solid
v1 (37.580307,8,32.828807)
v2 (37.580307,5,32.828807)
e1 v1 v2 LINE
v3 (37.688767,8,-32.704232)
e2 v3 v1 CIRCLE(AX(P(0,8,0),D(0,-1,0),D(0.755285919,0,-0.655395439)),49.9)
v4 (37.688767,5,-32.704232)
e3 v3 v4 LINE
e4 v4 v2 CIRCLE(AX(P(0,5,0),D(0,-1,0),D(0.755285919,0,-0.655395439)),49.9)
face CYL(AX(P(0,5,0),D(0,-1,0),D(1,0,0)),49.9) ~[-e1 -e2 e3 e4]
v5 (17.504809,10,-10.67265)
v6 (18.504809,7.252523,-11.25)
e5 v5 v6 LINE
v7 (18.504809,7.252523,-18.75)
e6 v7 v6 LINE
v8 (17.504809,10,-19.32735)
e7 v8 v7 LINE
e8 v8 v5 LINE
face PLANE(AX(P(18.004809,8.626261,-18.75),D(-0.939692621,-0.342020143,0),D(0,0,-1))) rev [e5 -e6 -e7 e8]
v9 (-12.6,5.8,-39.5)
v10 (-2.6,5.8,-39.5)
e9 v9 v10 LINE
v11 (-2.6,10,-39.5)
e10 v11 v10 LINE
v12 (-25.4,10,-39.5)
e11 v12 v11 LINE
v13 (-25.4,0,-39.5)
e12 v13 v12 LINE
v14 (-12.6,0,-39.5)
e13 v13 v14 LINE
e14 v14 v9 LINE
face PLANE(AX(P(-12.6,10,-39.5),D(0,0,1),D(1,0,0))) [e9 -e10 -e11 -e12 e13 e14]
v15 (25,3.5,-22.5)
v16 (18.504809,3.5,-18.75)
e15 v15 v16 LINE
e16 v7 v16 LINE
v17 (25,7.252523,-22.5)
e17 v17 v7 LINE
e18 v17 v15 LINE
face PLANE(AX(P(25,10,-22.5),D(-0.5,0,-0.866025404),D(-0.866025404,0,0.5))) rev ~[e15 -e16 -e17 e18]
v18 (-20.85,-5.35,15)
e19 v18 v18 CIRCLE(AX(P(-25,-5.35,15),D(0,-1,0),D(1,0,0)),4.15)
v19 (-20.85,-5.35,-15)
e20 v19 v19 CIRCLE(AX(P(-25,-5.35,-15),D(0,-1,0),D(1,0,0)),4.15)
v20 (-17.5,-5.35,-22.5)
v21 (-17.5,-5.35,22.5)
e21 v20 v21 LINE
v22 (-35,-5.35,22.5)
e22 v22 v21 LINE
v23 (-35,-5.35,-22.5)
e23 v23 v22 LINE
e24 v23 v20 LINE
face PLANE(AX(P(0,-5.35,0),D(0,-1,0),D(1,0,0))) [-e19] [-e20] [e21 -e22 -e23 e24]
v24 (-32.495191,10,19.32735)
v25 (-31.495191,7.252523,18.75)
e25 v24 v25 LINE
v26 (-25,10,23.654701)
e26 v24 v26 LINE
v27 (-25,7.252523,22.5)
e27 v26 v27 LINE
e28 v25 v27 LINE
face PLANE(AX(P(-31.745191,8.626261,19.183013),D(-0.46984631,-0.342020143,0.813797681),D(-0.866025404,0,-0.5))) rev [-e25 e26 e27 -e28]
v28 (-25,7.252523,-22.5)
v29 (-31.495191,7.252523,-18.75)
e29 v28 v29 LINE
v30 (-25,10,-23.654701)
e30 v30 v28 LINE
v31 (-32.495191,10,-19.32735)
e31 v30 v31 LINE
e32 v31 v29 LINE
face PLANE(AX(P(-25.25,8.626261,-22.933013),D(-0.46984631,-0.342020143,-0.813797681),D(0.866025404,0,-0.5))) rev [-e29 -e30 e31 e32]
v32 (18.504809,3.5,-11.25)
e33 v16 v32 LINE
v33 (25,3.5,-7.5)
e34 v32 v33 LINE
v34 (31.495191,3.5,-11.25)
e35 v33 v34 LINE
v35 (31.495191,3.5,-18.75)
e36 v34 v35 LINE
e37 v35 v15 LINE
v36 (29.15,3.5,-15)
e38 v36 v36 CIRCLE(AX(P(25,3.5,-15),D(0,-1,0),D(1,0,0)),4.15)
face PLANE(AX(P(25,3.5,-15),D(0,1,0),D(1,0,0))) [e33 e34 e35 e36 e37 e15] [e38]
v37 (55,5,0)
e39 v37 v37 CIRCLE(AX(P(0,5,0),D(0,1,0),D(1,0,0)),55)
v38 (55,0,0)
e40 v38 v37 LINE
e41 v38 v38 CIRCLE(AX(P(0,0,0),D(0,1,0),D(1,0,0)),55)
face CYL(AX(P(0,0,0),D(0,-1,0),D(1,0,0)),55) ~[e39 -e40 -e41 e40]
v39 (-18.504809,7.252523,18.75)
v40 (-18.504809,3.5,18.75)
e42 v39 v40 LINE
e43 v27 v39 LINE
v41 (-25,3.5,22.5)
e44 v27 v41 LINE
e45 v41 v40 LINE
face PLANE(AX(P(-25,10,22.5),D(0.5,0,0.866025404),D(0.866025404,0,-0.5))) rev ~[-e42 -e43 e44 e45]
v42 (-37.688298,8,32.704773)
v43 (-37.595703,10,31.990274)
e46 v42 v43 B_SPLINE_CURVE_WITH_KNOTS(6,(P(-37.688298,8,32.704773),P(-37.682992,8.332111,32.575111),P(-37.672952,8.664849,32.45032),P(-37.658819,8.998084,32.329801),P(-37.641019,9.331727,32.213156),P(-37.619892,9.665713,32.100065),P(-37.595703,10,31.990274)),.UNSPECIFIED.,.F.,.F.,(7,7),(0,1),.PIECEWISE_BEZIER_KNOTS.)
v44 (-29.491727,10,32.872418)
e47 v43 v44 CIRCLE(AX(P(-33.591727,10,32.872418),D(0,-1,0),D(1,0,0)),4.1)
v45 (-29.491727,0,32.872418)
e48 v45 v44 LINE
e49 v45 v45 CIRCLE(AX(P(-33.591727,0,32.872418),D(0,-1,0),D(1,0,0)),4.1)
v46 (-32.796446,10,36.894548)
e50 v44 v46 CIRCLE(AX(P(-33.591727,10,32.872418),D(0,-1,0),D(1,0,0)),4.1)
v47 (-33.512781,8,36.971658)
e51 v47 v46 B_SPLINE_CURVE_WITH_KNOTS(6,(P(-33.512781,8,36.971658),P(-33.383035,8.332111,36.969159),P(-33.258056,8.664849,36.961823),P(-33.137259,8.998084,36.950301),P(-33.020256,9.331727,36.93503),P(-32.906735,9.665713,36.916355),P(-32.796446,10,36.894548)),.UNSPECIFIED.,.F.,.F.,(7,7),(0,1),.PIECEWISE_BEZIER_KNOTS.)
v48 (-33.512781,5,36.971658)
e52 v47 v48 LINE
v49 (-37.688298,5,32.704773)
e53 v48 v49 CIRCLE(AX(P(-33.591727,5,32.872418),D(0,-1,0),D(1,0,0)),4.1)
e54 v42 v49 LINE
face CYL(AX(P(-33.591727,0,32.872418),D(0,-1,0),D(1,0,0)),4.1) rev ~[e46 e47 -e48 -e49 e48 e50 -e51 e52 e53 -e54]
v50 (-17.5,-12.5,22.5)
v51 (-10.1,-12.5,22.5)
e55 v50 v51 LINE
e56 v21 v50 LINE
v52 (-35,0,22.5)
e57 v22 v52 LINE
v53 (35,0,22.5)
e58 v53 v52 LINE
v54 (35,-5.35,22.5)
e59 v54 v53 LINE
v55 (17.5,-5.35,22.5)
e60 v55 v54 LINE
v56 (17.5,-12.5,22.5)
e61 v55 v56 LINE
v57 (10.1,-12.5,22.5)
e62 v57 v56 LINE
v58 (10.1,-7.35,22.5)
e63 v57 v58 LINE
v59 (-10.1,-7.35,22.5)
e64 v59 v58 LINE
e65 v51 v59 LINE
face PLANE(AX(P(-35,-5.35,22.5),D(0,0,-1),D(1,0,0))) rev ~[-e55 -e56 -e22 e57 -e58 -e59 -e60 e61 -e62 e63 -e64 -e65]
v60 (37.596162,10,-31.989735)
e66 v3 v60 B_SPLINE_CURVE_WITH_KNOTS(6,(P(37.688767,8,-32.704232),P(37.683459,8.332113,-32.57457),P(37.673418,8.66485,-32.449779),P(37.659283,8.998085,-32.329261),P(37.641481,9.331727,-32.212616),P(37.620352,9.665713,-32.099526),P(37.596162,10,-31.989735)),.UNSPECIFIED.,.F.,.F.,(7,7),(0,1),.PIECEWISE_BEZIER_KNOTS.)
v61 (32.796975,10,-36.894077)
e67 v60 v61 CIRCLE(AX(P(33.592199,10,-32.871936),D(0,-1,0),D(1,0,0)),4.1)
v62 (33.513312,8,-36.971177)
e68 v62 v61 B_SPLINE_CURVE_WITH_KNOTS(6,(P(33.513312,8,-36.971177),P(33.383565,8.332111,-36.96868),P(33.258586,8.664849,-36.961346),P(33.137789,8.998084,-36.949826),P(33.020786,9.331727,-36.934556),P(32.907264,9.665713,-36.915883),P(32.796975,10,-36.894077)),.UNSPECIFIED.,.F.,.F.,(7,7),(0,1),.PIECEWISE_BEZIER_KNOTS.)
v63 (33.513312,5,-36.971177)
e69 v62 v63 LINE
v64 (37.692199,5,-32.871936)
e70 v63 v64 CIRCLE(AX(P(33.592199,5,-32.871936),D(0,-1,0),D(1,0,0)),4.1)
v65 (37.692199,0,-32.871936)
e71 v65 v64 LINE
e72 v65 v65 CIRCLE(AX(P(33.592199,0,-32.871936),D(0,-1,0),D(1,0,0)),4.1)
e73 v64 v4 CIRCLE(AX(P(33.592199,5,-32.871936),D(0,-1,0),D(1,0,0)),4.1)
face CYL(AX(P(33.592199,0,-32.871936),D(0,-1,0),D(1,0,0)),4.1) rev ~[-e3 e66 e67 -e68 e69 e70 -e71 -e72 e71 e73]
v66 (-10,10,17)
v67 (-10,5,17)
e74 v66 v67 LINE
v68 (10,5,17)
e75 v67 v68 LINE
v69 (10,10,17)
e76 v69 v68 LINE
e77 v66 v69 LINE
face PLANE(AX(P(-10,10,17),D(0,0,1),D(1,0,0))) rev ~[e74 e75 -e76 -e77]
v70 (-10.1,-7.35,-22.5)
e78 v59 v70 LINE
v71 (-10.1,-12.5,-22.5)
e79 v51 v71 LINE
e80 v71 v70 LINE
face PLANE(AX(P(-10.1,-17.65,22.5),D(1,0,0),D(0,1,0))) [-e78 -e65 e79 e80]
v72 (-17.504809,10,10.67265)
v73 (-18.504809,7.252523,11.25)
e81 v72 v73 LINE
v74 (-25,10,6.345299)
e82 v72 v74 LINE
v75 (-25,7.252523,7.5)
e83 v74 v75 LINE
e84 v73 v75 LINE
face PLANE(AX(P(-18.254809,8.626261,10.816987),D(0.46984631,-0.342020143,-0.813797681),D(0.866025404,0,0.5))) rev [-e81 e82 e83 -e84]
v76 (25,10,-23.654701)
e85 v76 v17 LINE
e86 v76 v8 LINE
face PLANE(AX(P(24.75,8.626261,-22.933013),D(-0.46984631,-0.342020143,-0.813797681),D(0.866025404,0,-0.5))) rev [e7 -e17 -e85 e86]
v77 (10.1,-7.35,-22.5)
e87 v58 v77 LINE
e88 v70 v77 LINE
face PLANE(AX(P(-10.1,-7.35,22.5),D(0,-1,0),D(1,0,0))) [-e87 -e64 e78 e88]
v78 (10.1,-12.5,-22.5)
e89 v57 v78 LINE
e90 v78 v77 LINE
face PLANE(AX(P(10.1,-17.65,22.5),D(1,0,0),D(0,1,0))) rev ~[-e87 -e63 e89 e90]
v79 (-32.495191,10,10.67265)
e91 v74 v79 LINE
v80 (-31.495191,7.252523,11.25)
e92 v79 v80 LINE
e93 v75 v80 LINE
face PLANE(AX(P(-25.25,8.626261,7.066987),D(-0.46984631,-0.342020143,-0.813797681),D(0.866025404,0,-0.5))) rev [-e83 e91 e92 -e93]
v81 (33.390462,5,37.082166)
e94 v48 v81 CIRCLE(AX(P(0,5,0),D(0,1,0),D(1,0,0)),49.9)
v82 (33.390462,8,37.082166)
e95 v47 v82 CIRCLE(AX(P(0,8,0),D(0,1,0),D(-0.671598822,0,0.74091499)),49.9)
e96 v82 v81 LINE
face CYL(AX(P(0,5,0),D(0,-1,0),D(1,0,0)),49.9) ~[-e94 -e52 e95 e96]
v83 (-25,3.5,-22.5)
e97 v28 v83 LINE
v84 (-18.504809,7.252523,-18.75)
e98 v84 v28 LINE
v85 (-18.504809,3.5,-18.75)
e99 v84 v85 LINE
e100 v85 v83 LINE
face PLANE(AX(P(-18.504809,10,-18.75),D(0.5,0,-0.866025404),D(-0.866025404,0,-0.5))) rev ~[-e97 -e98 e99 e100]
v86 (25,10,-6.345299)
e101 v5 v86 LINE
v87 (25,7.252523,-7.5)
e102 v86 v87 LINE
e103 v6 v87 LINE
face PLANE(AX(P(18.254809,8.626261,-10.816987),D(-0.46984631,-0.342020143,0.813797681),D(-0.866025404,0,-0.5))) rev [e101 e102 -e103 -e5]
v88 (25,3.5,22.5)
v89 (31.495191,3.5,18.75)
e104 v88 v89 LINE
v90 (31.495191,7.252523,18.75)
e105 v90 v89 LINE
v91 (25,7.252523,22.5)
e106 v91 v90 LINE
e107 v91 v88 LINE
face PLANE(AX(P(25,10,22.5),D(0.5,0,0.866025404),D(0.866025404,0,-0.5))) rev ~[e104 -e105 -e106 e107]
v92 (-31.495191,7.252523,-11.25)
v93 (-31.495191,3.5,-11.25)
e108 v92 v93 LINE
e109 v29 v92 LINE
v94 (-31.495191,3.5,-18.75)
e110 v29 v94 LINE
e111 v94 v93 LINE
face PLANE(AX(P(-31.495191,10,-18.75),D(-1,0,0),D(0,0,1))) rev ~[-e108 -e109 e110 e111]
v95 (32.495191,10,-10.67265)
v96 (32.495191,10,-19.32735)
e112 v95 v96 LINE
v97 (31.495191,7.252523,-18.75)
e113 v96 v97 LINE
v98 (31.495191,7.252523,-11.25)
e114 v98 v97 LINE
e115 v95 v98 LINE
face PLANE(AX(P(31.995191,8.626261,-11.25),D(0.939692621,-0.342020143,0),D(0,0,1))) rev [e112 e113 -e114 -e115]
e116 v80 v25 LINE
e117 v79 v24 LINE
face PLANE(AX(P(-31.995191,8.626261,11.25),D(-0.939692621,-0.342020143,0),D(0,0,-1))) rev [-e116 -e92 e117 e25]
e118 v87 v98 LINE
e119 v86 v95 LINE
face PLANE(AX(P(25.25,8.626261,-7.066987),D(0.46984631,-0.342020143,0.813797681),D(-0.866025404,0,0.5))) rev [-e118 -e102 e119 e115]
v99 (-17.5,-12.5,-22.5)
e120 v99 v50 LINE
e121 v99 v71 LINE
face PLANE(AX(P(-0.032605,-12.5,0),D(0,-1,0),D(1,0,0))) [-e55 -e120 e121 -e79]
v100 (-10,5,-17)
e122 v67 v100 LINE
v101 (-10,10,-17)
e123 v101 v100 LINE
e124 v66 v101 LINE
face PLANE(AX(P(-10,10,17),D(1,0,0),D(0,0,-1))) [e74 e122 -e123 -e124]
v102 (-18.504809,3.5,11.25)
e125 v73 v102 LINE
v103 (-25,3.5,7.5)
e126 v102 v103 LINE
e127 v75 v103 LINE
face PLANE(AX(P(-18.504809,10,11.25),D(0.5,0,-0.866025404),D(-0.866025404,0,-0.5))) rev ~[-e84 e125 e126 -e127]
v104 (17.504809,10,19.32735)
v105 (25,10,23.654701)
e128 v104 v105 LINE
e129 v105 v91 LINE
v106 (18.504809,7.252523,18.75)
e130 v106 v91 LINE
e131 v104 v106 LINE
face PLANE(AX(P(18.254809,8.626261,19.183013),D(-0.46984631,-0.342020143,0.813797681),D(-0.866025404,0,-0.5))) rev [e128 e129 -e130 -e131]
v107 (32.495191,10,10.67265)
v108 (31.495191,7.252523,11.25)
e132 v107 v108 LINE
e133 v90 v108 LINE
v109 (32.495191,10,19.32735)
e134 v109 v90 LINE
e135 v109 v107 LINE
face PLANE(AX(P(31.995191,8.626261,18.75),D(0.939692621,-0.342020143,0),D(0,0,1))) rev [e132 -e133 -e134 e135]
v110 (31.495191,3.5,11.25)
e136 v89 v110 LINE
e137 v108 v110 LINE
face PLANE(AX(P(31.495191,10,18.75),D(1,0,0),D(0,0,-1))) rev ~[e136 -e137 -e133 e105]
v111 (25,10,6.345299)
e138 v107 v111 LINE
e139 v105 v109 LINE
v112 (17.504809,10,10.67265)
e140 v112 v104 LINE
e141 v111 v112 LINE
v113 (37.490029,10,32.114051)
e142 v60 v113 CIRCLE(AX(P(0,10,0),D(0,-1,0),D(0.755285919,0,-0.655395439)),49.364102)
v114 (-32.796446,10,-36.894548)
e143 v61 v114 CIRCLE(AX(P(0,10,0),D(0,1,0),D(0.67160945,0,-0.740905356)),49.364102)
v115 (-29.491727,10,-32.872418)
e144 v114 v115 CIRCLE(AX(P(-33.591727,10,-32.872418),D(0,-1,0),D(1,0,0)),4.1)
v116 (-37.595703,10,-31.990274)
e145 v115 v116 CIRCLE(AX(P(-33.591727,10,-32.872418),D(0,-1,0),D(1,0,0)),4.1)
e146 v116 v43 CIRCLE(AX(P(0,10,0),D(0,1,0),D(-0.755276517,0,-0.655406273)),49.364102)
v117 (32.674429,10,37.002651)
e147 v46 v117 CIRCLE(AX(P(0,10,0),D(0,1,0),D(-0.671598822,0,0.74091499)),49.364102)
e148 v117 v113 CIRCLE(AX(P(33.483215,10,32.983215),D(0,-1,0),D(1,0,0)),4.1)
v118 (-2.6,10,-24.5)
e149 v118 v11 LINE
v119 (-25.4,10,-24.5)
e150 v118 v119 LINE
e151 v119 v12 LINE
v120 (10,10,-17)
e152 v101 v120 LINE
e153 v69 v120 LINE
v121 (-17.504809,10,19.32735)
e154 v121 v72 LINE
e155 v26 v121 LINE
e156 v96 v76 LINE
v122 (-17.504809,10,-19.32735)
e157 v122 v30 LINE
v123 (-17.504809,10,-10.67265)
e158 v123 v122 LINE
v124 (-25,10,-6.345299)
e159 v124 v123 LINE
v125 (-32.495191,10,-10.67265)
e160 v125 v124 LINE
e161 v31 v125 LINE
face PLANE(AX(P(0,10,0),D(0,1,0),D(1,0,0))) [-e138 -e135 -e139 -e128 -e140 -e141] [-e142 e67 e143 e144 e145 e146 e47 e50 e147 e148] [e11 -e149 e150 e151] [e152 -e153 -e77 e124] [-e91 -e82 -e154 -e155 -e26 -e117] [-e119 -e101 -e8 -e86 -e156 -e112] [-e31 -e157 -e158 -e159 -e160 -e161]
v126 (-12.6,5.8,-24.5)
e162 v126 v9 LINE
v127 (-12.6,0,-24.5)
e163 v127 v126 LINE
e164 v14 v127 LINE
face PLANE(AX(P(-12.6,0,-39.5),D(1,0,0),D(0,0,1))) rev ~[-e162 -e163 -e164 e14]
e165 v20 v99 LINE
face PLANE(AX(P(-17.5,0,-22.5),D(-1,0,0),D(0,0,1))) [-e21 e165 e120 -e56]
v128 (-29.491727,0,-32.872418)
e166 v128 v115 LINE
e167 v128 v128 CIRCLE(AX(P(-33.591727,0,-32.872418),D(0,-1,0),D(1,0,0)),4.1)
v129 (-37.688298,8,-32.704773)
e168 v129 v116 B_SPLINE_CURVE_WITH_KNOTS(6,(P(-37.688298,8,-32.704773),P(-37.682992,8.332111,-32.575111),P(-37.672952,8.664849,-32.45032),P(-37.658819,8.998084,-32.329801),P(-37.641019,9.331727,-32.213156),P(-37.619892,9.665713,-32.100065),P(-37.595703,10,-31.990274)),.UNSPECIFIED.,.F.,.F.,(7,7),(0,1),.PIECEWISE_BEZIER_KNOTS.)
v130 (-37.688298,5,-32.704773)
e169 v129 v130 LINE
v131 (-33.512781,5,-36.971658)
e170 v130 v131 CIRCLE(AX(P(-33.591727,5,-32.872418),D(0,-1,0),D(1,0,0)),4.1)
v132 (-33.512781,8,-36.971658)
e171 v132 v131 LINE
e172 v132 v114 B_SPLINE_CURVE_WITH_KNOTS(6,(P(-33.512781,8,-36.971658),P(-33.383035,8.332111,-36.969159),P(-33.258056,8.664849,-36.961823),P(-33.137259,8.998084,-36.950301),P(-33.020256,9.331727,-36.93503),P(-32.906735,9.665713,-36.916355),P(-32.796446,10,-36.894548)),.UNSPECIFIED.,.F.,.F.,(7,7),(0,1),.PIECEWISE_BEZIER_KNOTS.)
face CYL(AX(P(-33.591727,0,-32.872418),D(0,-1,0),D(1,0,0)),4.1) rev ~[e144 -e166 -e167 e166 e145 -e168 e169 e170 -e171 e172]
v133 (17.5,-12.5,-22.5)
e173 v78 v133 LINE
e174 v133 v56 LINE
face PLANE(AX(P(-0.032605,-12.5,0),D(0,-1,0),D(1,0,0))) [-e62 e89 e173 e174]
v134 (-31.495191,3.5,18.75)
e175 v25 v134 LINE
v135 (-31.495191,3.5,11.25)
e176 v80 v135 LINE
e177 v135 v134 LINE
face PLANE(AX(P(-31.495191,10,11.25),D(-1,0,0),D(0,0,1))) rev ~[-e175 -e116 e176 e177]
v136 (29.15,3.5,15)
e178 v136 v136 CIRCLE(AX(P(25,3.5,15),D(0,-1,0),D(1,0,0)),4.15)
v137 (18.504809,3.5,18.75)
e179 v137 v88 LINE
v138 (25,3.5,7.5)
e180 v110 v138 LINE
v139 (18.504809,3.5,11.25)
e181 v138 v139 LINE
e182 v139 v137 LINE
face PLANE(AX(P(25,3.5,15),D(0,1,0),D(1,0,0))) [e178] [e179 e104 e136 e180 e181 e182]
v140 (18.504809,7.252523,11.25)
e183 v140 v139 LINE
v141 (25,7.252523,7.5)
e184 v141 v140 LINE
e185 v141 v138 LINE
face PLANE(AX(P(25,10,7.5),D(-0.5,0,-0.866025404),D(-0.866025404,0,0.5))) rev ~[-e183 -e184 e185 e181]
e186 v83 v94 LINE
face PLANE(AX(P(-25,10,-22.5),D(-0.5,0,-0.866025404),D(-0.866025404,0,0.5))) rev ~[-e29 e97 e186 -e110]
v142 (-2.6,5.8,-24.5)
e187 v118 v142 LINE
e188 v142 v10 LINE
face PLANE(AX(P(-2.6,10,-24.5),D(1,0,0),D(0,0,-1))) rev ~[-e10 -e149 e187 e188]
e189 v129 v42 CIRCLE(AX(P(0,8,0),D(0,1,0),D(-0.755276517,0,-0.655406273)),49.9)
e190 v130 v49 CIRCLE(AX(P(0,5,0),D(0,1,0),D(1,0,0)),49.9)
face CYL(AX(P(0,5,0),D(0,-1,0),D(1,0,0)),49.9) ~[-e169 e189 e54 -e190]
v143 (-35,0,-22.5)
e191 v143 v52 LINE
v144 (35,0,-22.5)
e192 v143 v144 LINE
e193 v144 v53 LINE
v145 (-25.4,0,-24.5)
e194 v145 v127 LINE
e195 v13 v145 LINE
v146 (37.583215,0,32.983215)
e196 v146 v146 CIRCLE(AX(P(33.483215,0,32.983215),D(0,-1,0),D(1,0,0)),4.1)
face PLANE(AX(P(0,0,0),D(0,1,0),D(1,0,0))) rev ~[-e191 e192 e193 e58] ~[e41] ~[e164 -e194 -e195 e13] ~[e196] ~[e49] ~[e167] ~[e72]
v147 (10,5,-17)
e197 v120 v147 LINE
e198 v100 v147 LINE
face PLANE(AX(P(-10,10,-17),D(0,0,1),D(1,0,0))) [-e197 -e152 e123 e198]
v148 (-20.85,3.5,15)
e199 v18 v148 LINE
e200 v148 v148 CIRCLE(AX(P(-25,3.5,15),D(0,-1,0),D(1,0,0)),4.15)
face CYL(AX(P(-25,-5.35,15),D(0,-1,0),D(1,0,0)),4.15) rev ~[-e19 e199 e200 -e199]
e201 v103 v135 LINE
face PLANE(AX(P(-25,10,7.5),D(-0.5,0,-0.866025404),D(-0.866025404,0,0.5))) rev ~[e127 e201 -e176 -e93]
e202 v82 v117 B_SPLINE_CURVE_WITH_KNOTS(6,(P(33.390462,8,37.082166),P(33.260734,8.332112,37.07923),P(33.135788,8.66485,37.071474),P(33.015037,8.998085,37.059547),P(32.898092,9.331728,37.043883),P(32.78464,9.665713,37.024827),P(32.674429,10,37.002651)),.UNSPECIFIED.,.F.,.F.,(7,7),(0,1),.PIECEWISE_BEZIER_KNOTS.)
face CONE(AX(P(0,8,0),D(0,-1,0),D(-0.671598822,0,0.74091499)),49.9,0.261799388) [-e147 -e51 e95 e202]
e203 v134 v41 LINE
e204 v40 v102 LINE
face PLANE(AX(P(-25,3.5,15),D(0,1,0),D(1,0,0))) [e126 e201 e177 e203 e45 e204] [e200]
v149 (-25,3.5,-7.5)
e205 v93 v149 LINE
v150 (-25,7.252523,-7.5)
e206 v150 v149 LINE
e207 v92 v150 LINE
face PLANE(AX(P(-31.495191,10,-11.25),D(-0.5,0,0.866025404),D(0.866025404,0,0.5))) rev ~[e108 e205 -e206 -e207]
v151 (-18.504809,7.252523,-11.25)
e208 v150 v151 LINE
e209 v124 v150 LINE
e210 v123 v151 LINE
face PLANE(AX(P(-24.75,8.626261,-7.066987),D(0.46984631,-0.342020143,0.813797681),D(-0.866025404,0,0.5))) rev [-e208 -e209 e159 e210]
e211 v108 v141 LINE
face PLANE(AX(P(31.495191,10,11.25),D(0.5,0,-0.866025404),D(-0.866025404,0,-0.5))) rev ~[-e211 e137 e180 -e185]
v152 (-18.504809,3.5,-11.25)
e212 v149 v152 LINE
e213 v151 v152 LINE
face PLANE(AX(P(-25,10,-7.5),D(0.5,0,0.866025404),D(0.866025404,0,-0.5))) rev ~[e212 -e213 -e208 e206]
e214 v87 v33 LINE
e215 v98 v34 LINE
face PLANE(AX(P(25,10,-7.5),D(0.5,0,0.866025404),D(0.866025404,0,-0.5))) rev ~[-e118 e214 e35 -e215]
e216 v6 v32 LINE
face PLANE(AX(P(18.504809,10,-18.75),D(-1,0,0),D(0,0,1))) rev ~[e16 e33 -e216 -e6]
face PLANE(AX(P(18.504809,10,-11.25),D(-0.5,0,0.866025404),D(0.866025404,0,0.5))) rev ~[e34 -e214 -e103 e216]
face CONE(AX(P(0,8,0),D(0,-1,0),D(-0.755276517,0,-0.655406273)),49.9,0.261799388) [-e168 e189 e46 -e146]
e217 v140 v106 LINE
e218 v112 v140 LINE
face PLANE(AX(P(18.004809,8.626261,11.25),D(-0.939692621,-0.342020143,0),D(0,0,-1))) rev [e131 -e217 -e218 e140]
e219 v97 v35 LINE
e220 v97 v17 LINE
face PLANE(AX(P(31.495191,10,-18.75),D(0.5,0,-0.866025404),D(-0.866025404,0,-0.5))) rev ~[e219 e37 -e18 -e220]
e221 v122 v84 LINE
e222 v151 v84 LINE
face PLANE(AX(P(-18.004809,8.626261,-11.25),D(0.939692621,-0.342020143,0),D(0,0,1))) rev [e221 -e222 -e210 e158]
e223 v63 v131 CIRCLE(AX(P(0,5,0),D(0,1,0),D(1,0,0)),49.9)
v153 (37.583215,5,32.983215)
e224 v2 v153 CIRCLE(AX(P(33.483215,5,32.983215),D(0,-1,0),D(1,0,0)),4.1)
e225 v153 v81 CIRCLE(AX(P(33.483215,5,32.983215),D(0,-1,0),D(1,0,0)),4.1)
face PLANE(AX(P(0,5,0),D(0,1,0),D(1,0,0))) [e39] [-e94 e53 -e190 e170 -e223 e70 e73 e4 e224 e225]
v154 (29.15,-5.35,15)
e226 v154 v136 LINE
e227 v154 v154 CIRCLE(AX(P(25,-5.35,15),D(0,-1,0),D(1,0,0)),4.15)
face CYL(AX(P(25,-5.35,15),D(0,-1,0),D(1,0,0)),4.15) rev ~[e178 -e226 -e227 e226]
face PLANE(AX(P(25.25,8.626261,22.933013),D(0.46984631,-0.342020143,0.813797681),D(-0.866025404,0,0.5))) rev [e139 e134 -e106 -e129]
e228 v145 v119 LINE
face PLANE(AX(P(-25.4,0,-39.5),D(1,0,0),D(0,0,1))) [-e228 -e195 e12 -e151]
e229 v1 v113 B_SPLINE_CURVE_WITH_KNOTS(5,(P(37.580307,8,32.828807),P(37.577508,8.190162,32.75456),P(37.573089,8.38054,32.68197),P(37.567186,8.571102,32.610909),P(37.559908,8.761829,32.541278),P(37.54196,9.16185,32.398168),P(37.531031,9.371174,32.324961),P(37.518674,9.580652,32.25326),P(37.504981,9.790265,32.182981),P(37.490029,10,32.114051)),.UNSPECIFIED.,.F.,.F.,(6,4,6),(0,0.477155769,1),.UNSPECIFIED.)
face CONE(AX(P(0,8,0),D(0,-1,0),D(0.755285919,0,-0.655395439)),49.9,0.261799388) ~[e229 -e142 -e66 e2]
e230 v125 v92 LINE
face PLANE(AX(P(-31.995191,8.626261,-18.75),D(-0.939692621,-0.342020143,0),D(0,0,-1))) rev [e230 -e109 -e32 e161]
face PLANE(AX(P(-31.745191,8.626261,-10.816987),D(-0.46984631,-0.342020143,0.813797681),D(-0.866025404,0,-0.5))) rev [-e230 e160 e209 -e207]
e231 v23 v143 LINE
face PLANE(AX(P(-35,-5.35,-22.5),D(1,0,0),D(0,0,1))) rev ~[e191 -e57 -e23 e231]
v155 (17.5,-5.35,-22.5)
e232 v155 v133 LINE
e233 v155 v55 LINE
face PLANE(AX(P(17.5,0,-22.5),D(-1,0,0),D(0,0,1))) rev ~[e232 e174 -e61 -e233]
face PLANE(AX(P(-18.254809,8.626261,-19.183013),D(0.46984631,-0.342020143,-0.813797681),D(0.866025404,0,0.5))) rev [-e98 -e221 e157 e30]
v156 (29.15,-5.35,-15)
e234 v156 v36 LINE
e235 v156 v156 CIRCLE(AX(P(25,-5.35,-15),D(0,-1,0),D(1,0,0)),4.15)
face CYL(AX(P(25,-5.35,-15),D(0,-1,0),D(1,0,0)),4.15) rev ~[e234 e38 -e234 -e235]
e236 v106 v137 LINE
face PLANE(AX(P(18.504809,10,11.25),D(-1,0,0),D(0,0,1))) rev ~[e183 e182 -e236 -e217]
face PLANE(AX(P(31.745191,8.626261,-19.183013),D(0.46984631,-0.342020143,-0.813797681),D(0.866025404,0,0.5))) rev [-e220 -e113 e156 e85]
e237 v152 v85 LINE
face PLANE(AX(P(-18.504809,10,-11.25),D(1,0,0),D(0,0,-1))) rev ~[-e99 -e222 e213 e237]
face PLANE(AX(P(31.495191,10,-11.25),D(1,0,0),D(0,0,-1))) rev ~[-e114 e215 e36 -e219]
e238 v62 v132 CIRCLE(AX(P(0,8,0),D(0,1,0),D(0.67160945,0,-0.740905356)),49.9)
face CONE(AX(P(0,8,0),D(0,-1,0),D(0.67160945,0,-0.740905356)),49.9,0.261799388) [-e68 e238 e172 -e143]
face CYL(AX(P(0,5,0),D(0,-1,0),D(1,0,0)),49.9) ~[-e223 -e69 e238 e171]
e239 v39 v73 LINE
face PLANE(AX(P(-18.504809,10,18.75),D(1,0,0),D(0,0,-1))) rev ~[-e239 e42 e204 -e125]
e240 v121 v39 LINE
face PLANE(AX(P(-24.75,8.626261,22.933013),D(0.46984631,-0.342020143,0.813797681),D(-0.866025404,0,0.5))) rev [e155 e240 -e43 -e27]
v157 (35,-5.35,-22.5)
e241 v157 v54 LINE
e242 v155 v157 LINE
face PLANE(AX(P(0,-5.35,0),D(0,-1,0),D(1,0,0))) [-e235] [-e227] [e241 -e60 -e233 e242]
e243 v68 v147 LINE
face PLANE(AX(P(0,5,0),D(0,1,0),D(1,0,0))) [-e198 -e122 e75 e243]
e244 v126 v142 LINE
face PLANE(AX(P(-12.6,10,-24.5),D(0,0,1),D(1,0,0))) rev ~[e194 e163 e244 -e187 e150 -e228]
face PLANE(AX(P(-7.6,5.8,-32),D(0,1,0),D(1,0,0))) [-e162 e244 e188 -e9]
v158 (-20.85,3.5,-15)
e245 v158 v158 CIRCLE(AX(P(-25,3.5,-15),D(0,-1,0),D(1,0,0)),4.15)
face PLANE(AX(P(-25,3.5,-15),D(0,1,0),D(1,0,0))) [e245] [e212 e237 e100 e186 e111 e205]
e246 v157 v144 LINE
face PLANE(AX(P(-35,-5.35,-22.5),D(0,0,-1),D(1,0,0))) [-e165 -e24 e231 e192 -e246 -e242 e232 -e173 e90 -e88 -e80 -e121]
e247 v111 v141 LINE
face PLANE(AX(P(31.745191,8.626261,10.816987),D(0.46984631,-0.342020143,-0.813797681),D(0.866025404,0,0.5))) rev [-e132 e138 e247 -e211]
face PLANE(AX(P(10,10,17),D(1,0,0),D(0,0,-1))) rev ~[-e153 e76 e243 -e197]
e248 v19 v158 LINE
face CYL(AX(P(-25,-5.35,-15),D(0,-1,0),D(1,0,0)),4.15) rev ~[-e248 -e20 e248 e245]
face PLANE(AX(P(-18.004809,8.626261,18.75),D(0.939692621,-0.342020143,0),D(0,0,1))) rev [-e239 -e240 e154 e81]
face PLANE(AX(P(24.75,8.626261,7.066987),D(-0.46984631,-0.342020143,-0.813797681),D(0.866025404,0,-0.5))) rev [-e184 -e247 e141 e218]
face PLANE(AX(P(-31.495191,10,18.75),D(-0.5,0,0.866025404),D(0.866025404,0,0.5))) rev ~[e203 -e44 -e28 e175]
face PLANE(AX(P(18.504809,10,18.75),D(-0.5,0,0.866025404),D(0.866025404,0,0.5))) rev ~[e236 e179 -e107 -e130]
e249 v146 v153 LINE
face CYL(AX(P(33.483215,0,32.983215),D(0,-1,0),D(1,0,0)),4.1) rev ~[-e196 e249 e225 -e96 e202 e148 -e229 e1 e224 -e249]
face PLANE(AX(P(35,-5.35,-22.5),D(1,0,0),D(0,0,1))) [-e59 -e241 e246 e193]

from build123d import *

# Parameters (mm, degrees)
SKETCH_1_R            = 55
EXTRUDE_1_DEPTH       = 5
SKETCH_2_R            = 49.9
EXTRUDE_2_DEPTH       = 5
SKETCH_3_W            = 35
SKETCH_3_H            = 45
EXTRUDE_3_DEPTH       = 25
SKETCH_4_W            = 20.2
SKETCH_4_H            = 10.3
CUT_EXTRUDE_1_DEPTH   = 78.5
SKETCH_5_R            = 4.1
CUT_EXTRUDE_2_DEPTH   = 11
SKETCH_6_R            = 2.75
CUT_EXTRUDE_3_DEPTH   = 36
CHAMFER1_SIZE         = 2
CHAMFER1_SIZE2        = 0.535898385
CHAMFER1_PART_2_SIZE  = 2
CHAMFER1_PART_2_SIZE2 = 0.535898385
CHAMFER1_PART_3_SIZE  = 2
CHAMFER1_PART_3_SIZE2 = 0.535898385
CHAMFER1_PART_4_SIZE  = 2
CHAMFER1_PART_4_SIZE2 = 0.535898385
SKETCH2_W             = 35.065209797
SKETCH2_H             = 45
CUT_EXTRUDE1_DEPTH    = 12.5
BOSS_EXTRUDE1_START   = -2
SKETCH4_W             = 70
SKETCH4_H             = 45
BOSS_EXTRUDE1_DEPTH   = 5.35
SKETCH5_R             = 4.15
CUT_EXTRUDE2_DEPTH    = 16.3500001
CUT_EXTRUDE3_DEPTH    = 6.5
SKETCH7_W             = 20
SKETCH7_H             = 34
CUT_EXTRUDE4_DEPTH    = 5
CHAMFER2_SIZE         = 1
CHAMFER2_SIZE2        = 2.747477419
SKETCH8_W             = 12.8
SKETCH8_H             = 15
CUT_EXTRUDE5_DEPTH    = 11.0000001
SKETCH9_W             = 10
SKETCH9_H             = 15
CUT_EXTRUDE6_DEPTH    = 4.2


with BuildPart() as part:
    # Эскиз1 → Бобышка-Вытянуть1 (new body)
    with BuildSketch(Plane(origin=(0, 0, 0), x_dir=(1, 0, 0), z_dir=(0, 1, 0))):
        Circle(SKETCH_1_R)
    extrude(amount=EXTRUDE_1_DEPTH)

    # Эскиз2 → Бобышка-Вытянуть2 (add)
    with BuildSketch(Plane(origin=(0, 5, 0), x_dir=(1, 0, 0), z_dir=(0, 1, 0))):
        Circle(SKETCH_2_R)
    extrude(amount=EXTRUDE_2_DEPTH)

    # Эскиз3 → Бобышка-Вытянуть3 (add)
    with BuildSketch(Plane.XZ):
        Rectangle(SKETCH_3_W, SKETCH_3_H)
    extrude(amount=EXTRUDE_3_DEPTH)

    # Эскиз4 → Вырез-Вытянуть1 (cut, through all)
    with BuildSketch(Plane.XY.offset(22.5)):
        with Locations((0, -12.5)):
            Rectangle(SKETCH_4_W, SKETCH_4_H)
    extrude(amount=-CUT_EXTRUDE_1_DEPTH, mode=Mode.SUBTRACT)

    # Эскиз5 → Вырез-Вытянуть2 (cut, through all)
    with BuildSketch(Plane.XZ):
        with Locations((33.592198598, -32.871936263)):
            Circle(SKETCH_5_R)
        with Locations((-33.591727056, -32.872418125)):
            Circle(SKETCH_5_R)
        with Locations((-33.591727056, 32.872418125)):
            Circle(SKETCH_5_R)
        with Locations((33.483215177, 32.983215177)):
            Circle(SKETCH_5_R)
    extrude(amount=-CUT_EXTRUDE_2_DEPTH, mode=Mode.SUBTRACT)

    # Эскиз6 → Вырез-Вытянуть3 (cut, through all)
    with BuildSketch(Plane(origin=(0, 10, 0), x_dir=(1, 0, 0), z_dir=(0, 1, 0))):
        with Locations((-17.999799176, 27.999999999)):
            Circle(SKETCH_6_R)
    extrude(amount=-CUT_EXTRUDE_3_DEPTH, mode=Mode.SUBTRACT)

    # Chamfer1
    chamfer1_edges = [part.edges().sort_by_distance(p)[0] for p in [
        (0.000357897, 10, -49.899999999),
    ]]
    chamfer1_side = [part.faces().sort_by_distance(p)[0] for p in [
        (0.000357897, 7.5, -49.899999999),
    ]]
    chamfer(chamfer1_edges, length=CHAMFER1_SIZE, length2=CHAMFER1_SIZE2, reference=chamfer1_side[0])

    # Chamfer1 part 2
    chamfer1_part_2_edges = [part.edges().sort_by_distance(p)[0] for p in [
        (-49.9, 10, 0),
    ]]
    chamfer1_part_2_side = [part.faces().sort_by_distance(p)[0] for p in [
        (-49.9, 7.5, 0),
    ]]
    chamfer(chamfer1_part_2_edges, length=CHAMFER1_PART_2_SIZE, length2=CHAMFER1_PART_2_SIZE2, reference=chamfer1_part_2_side[0])

    # Chamfer1 part 3
    chamfer1_part_3_edges = [part.edges().sort_by_distance(p)[0] for p in [
        (-0.08242255, 10, 49.899931929),
    ]]
    chamfer1_part_3_side = [part.faces().sort_by_distance(p)[0] for p in [
        (-0.08242255, 7.5, 49.899931929),
    ]]
    chamfer(chamfer1_part_3_edges, length=CHAMFER1_PART_3_SIZE, length2=CHAMFER1_PART_3_SIZE2, reference=chamfer1_part_3_side[0])

    # Chamfer1 part 4
    chamfer1_part_4_edges = [part.edges().sort_by_distance(p)[0] for p in [
        (49.899931657, 10, 0.082587101),
    ]]
    chamfer1_part_4_side = [part.faces().sort_by_distance(p)[0] for p in [
        (49.899931657, 7.5, 0.082587101),
    ]]
    chamfer(chamfer1_part_4_edges, length=CHAMFER1_PART_4_SIZE, length2=CHAMFER1_PART_4_SIZE2, reference=chamfer1_part_4_side[0])

    # Sketch2 → Cut-Extrude1 (cut)
    with BuildSketch(Plane.XZ.offset(25)):
        with Locations((-0.032604899, 0)):
            Rectangle(SKETCH2_W, SKETCH2_H)
    extrude(amount=-CUT_EXTRUDE1_DEPTH, mode=Mode.SUBTRACT)

    # Sketch4 → Boss-Extrude1 (add)
    with BuildSketch(Plane.XZ.offset(7.35).offset(BOSS_EXTRUDE1_START)):
        Rectangle(SKETCH4_W, SKETCH4_H)
    extrude(amount=-BOSS_EXTRUDE1_DEPTH)

    # Sketch5 → Cut-Extrude2 (cut, through all)
    with BuildSketch(Plane.XZ.offset(5.35)):
        with Locations((25, 15)):
            Circle(SKETCH5_R)
        with Locations((-25, 15)):
            Circle(SKETCH5_R)
        with Locations((25, -15)):
            Circle(SKETCH5_R)
        with Locations((-25, -15)):
            Circle(SKETCH5_R)
    extrude(amount=-CUT_EXTRUDE2_DEPTH, mode=Mode.SUBTRACT)

    # Sketch6 → Cut-Extrude3 (cut)
    with BuildSketch(Plane(origin=(0, 10, 0), x_dir=(1, 0, 0), z_dir=(0, 1, 0))):
        Polygon((-18.504809472, -11.25), (-25, -7.5), (-31.495190528, -11.25), (-31.495190528, -18.75), (-25, -22.5), (-18.504809472, -18.75), align=None)
        Polygon((31.495190528, -11.25), (25, -7.5), (18.504809472, -11.25), (18.504809472, -18.75), (25, -22.5), (31.495190528, -18.75), align=None)
        Polygon((31.495190528, 18.75), (25, 22.5), (18.504809472, 18.75), (18.504809472, 11.25), (25, 7.5), (31.495190528, 11.25), align=None)
        Polygon((-18.504809472, 18.75), (-25, 22.5), (-31.495190528, 18.75), (-31.495190528, 11.25), (-25, 7.5), (-18.504809472, 11.25), align=None)
    extrude(amount=-CUT_EXTRUDE3_DEPTH, mode=Mode.SUBTRACT)

    # Sketch7 → Cut-Extrude4 (cut)
    with BuildSketch(Plane(origin=(0, 10, 0), x_dir=(1, 0, 0), z_dir=(0, 1, 0))):
        Rectangle(SKETCH7_W, SKETCH7_H)
    extrude(amount=-CUT_EXTRUDE4_DEPTH, mode=Mode.SUBTRACT)

    # Chamfer2
    chamfer2_edges = [part.edges().sort_by_distance(p)[0] for p in [
        (-18.504809472, 10, 15),
        (-21.752404736, 10, 9.375),
        (-28.247595264, 10, 9.375),
        (-31.495190528, 10, 15),
        (-28.247595264, 10, 20.625),
        (-21.752404736, 10, 20.625),
        (31.495190528, 10, 15),
        (28.247595264, 10, 9.375),
        (21.752404736, 10, 9.375),
        (18.504809472, 10, 15),
        (21.752404736, 10, 20.625),
        (28.247595264, 10, 20.625),
        (31.495190528, 10, -15),
        (28.247595264, 10, -20.625),
        (21.752404736, 10, -20.625),
        (18.504809472, 10, -15),
        (21.752404736, 10, -9.375),
        (28.247595264, 10, -9.375),
        (-18.504809472, 10, -15),
        (-21.752404736, 10, -20.625),
        (-28.247595264, 10, -20.625),
        (-31.495190528, 10, -15),
        (-28.247595264, 10, -9.375),
        (-21.752404736, 10, -9.375),
    ]]
    chamfer2_side = [part.faces().sort_by_distance(p)[0] for p in [
        (29.567670169, 10, 29.126140435),
    ]]
    chamfer(chamfer2_edges, length=CHAMFER2_SIZE, length2=CHAMFER2_SIZE2, reference=chamfer2_side[0])

    # Sketch8 → Cut-Extrude5 (cut, through all)
    with BuildSketch(Plane.XZ):
        with Locations((-19, -32)):
            Rectangle(SKETCH8_W, SKETCH8_H)
    extrude(amount=-CUT_EXTRUDE5_DEPTH, mode=Mode.SUBTRACT)

    # Sketch9 → Cut-Extrude6 (cut)
    with BuildSketch(Plane(origin=(0, 10, 0), x_dir=(1, 0, 0), z_dir=(0, 1, 0))):
        with Locations((-7.6, 32)):
            Rectangle(SKETCH9_W, SKETCH9_H)
    extrude(amount=-CUT_EXTRUDE6_DEPTH, mode=Mode.SUBTRACT)


solid = part.part
